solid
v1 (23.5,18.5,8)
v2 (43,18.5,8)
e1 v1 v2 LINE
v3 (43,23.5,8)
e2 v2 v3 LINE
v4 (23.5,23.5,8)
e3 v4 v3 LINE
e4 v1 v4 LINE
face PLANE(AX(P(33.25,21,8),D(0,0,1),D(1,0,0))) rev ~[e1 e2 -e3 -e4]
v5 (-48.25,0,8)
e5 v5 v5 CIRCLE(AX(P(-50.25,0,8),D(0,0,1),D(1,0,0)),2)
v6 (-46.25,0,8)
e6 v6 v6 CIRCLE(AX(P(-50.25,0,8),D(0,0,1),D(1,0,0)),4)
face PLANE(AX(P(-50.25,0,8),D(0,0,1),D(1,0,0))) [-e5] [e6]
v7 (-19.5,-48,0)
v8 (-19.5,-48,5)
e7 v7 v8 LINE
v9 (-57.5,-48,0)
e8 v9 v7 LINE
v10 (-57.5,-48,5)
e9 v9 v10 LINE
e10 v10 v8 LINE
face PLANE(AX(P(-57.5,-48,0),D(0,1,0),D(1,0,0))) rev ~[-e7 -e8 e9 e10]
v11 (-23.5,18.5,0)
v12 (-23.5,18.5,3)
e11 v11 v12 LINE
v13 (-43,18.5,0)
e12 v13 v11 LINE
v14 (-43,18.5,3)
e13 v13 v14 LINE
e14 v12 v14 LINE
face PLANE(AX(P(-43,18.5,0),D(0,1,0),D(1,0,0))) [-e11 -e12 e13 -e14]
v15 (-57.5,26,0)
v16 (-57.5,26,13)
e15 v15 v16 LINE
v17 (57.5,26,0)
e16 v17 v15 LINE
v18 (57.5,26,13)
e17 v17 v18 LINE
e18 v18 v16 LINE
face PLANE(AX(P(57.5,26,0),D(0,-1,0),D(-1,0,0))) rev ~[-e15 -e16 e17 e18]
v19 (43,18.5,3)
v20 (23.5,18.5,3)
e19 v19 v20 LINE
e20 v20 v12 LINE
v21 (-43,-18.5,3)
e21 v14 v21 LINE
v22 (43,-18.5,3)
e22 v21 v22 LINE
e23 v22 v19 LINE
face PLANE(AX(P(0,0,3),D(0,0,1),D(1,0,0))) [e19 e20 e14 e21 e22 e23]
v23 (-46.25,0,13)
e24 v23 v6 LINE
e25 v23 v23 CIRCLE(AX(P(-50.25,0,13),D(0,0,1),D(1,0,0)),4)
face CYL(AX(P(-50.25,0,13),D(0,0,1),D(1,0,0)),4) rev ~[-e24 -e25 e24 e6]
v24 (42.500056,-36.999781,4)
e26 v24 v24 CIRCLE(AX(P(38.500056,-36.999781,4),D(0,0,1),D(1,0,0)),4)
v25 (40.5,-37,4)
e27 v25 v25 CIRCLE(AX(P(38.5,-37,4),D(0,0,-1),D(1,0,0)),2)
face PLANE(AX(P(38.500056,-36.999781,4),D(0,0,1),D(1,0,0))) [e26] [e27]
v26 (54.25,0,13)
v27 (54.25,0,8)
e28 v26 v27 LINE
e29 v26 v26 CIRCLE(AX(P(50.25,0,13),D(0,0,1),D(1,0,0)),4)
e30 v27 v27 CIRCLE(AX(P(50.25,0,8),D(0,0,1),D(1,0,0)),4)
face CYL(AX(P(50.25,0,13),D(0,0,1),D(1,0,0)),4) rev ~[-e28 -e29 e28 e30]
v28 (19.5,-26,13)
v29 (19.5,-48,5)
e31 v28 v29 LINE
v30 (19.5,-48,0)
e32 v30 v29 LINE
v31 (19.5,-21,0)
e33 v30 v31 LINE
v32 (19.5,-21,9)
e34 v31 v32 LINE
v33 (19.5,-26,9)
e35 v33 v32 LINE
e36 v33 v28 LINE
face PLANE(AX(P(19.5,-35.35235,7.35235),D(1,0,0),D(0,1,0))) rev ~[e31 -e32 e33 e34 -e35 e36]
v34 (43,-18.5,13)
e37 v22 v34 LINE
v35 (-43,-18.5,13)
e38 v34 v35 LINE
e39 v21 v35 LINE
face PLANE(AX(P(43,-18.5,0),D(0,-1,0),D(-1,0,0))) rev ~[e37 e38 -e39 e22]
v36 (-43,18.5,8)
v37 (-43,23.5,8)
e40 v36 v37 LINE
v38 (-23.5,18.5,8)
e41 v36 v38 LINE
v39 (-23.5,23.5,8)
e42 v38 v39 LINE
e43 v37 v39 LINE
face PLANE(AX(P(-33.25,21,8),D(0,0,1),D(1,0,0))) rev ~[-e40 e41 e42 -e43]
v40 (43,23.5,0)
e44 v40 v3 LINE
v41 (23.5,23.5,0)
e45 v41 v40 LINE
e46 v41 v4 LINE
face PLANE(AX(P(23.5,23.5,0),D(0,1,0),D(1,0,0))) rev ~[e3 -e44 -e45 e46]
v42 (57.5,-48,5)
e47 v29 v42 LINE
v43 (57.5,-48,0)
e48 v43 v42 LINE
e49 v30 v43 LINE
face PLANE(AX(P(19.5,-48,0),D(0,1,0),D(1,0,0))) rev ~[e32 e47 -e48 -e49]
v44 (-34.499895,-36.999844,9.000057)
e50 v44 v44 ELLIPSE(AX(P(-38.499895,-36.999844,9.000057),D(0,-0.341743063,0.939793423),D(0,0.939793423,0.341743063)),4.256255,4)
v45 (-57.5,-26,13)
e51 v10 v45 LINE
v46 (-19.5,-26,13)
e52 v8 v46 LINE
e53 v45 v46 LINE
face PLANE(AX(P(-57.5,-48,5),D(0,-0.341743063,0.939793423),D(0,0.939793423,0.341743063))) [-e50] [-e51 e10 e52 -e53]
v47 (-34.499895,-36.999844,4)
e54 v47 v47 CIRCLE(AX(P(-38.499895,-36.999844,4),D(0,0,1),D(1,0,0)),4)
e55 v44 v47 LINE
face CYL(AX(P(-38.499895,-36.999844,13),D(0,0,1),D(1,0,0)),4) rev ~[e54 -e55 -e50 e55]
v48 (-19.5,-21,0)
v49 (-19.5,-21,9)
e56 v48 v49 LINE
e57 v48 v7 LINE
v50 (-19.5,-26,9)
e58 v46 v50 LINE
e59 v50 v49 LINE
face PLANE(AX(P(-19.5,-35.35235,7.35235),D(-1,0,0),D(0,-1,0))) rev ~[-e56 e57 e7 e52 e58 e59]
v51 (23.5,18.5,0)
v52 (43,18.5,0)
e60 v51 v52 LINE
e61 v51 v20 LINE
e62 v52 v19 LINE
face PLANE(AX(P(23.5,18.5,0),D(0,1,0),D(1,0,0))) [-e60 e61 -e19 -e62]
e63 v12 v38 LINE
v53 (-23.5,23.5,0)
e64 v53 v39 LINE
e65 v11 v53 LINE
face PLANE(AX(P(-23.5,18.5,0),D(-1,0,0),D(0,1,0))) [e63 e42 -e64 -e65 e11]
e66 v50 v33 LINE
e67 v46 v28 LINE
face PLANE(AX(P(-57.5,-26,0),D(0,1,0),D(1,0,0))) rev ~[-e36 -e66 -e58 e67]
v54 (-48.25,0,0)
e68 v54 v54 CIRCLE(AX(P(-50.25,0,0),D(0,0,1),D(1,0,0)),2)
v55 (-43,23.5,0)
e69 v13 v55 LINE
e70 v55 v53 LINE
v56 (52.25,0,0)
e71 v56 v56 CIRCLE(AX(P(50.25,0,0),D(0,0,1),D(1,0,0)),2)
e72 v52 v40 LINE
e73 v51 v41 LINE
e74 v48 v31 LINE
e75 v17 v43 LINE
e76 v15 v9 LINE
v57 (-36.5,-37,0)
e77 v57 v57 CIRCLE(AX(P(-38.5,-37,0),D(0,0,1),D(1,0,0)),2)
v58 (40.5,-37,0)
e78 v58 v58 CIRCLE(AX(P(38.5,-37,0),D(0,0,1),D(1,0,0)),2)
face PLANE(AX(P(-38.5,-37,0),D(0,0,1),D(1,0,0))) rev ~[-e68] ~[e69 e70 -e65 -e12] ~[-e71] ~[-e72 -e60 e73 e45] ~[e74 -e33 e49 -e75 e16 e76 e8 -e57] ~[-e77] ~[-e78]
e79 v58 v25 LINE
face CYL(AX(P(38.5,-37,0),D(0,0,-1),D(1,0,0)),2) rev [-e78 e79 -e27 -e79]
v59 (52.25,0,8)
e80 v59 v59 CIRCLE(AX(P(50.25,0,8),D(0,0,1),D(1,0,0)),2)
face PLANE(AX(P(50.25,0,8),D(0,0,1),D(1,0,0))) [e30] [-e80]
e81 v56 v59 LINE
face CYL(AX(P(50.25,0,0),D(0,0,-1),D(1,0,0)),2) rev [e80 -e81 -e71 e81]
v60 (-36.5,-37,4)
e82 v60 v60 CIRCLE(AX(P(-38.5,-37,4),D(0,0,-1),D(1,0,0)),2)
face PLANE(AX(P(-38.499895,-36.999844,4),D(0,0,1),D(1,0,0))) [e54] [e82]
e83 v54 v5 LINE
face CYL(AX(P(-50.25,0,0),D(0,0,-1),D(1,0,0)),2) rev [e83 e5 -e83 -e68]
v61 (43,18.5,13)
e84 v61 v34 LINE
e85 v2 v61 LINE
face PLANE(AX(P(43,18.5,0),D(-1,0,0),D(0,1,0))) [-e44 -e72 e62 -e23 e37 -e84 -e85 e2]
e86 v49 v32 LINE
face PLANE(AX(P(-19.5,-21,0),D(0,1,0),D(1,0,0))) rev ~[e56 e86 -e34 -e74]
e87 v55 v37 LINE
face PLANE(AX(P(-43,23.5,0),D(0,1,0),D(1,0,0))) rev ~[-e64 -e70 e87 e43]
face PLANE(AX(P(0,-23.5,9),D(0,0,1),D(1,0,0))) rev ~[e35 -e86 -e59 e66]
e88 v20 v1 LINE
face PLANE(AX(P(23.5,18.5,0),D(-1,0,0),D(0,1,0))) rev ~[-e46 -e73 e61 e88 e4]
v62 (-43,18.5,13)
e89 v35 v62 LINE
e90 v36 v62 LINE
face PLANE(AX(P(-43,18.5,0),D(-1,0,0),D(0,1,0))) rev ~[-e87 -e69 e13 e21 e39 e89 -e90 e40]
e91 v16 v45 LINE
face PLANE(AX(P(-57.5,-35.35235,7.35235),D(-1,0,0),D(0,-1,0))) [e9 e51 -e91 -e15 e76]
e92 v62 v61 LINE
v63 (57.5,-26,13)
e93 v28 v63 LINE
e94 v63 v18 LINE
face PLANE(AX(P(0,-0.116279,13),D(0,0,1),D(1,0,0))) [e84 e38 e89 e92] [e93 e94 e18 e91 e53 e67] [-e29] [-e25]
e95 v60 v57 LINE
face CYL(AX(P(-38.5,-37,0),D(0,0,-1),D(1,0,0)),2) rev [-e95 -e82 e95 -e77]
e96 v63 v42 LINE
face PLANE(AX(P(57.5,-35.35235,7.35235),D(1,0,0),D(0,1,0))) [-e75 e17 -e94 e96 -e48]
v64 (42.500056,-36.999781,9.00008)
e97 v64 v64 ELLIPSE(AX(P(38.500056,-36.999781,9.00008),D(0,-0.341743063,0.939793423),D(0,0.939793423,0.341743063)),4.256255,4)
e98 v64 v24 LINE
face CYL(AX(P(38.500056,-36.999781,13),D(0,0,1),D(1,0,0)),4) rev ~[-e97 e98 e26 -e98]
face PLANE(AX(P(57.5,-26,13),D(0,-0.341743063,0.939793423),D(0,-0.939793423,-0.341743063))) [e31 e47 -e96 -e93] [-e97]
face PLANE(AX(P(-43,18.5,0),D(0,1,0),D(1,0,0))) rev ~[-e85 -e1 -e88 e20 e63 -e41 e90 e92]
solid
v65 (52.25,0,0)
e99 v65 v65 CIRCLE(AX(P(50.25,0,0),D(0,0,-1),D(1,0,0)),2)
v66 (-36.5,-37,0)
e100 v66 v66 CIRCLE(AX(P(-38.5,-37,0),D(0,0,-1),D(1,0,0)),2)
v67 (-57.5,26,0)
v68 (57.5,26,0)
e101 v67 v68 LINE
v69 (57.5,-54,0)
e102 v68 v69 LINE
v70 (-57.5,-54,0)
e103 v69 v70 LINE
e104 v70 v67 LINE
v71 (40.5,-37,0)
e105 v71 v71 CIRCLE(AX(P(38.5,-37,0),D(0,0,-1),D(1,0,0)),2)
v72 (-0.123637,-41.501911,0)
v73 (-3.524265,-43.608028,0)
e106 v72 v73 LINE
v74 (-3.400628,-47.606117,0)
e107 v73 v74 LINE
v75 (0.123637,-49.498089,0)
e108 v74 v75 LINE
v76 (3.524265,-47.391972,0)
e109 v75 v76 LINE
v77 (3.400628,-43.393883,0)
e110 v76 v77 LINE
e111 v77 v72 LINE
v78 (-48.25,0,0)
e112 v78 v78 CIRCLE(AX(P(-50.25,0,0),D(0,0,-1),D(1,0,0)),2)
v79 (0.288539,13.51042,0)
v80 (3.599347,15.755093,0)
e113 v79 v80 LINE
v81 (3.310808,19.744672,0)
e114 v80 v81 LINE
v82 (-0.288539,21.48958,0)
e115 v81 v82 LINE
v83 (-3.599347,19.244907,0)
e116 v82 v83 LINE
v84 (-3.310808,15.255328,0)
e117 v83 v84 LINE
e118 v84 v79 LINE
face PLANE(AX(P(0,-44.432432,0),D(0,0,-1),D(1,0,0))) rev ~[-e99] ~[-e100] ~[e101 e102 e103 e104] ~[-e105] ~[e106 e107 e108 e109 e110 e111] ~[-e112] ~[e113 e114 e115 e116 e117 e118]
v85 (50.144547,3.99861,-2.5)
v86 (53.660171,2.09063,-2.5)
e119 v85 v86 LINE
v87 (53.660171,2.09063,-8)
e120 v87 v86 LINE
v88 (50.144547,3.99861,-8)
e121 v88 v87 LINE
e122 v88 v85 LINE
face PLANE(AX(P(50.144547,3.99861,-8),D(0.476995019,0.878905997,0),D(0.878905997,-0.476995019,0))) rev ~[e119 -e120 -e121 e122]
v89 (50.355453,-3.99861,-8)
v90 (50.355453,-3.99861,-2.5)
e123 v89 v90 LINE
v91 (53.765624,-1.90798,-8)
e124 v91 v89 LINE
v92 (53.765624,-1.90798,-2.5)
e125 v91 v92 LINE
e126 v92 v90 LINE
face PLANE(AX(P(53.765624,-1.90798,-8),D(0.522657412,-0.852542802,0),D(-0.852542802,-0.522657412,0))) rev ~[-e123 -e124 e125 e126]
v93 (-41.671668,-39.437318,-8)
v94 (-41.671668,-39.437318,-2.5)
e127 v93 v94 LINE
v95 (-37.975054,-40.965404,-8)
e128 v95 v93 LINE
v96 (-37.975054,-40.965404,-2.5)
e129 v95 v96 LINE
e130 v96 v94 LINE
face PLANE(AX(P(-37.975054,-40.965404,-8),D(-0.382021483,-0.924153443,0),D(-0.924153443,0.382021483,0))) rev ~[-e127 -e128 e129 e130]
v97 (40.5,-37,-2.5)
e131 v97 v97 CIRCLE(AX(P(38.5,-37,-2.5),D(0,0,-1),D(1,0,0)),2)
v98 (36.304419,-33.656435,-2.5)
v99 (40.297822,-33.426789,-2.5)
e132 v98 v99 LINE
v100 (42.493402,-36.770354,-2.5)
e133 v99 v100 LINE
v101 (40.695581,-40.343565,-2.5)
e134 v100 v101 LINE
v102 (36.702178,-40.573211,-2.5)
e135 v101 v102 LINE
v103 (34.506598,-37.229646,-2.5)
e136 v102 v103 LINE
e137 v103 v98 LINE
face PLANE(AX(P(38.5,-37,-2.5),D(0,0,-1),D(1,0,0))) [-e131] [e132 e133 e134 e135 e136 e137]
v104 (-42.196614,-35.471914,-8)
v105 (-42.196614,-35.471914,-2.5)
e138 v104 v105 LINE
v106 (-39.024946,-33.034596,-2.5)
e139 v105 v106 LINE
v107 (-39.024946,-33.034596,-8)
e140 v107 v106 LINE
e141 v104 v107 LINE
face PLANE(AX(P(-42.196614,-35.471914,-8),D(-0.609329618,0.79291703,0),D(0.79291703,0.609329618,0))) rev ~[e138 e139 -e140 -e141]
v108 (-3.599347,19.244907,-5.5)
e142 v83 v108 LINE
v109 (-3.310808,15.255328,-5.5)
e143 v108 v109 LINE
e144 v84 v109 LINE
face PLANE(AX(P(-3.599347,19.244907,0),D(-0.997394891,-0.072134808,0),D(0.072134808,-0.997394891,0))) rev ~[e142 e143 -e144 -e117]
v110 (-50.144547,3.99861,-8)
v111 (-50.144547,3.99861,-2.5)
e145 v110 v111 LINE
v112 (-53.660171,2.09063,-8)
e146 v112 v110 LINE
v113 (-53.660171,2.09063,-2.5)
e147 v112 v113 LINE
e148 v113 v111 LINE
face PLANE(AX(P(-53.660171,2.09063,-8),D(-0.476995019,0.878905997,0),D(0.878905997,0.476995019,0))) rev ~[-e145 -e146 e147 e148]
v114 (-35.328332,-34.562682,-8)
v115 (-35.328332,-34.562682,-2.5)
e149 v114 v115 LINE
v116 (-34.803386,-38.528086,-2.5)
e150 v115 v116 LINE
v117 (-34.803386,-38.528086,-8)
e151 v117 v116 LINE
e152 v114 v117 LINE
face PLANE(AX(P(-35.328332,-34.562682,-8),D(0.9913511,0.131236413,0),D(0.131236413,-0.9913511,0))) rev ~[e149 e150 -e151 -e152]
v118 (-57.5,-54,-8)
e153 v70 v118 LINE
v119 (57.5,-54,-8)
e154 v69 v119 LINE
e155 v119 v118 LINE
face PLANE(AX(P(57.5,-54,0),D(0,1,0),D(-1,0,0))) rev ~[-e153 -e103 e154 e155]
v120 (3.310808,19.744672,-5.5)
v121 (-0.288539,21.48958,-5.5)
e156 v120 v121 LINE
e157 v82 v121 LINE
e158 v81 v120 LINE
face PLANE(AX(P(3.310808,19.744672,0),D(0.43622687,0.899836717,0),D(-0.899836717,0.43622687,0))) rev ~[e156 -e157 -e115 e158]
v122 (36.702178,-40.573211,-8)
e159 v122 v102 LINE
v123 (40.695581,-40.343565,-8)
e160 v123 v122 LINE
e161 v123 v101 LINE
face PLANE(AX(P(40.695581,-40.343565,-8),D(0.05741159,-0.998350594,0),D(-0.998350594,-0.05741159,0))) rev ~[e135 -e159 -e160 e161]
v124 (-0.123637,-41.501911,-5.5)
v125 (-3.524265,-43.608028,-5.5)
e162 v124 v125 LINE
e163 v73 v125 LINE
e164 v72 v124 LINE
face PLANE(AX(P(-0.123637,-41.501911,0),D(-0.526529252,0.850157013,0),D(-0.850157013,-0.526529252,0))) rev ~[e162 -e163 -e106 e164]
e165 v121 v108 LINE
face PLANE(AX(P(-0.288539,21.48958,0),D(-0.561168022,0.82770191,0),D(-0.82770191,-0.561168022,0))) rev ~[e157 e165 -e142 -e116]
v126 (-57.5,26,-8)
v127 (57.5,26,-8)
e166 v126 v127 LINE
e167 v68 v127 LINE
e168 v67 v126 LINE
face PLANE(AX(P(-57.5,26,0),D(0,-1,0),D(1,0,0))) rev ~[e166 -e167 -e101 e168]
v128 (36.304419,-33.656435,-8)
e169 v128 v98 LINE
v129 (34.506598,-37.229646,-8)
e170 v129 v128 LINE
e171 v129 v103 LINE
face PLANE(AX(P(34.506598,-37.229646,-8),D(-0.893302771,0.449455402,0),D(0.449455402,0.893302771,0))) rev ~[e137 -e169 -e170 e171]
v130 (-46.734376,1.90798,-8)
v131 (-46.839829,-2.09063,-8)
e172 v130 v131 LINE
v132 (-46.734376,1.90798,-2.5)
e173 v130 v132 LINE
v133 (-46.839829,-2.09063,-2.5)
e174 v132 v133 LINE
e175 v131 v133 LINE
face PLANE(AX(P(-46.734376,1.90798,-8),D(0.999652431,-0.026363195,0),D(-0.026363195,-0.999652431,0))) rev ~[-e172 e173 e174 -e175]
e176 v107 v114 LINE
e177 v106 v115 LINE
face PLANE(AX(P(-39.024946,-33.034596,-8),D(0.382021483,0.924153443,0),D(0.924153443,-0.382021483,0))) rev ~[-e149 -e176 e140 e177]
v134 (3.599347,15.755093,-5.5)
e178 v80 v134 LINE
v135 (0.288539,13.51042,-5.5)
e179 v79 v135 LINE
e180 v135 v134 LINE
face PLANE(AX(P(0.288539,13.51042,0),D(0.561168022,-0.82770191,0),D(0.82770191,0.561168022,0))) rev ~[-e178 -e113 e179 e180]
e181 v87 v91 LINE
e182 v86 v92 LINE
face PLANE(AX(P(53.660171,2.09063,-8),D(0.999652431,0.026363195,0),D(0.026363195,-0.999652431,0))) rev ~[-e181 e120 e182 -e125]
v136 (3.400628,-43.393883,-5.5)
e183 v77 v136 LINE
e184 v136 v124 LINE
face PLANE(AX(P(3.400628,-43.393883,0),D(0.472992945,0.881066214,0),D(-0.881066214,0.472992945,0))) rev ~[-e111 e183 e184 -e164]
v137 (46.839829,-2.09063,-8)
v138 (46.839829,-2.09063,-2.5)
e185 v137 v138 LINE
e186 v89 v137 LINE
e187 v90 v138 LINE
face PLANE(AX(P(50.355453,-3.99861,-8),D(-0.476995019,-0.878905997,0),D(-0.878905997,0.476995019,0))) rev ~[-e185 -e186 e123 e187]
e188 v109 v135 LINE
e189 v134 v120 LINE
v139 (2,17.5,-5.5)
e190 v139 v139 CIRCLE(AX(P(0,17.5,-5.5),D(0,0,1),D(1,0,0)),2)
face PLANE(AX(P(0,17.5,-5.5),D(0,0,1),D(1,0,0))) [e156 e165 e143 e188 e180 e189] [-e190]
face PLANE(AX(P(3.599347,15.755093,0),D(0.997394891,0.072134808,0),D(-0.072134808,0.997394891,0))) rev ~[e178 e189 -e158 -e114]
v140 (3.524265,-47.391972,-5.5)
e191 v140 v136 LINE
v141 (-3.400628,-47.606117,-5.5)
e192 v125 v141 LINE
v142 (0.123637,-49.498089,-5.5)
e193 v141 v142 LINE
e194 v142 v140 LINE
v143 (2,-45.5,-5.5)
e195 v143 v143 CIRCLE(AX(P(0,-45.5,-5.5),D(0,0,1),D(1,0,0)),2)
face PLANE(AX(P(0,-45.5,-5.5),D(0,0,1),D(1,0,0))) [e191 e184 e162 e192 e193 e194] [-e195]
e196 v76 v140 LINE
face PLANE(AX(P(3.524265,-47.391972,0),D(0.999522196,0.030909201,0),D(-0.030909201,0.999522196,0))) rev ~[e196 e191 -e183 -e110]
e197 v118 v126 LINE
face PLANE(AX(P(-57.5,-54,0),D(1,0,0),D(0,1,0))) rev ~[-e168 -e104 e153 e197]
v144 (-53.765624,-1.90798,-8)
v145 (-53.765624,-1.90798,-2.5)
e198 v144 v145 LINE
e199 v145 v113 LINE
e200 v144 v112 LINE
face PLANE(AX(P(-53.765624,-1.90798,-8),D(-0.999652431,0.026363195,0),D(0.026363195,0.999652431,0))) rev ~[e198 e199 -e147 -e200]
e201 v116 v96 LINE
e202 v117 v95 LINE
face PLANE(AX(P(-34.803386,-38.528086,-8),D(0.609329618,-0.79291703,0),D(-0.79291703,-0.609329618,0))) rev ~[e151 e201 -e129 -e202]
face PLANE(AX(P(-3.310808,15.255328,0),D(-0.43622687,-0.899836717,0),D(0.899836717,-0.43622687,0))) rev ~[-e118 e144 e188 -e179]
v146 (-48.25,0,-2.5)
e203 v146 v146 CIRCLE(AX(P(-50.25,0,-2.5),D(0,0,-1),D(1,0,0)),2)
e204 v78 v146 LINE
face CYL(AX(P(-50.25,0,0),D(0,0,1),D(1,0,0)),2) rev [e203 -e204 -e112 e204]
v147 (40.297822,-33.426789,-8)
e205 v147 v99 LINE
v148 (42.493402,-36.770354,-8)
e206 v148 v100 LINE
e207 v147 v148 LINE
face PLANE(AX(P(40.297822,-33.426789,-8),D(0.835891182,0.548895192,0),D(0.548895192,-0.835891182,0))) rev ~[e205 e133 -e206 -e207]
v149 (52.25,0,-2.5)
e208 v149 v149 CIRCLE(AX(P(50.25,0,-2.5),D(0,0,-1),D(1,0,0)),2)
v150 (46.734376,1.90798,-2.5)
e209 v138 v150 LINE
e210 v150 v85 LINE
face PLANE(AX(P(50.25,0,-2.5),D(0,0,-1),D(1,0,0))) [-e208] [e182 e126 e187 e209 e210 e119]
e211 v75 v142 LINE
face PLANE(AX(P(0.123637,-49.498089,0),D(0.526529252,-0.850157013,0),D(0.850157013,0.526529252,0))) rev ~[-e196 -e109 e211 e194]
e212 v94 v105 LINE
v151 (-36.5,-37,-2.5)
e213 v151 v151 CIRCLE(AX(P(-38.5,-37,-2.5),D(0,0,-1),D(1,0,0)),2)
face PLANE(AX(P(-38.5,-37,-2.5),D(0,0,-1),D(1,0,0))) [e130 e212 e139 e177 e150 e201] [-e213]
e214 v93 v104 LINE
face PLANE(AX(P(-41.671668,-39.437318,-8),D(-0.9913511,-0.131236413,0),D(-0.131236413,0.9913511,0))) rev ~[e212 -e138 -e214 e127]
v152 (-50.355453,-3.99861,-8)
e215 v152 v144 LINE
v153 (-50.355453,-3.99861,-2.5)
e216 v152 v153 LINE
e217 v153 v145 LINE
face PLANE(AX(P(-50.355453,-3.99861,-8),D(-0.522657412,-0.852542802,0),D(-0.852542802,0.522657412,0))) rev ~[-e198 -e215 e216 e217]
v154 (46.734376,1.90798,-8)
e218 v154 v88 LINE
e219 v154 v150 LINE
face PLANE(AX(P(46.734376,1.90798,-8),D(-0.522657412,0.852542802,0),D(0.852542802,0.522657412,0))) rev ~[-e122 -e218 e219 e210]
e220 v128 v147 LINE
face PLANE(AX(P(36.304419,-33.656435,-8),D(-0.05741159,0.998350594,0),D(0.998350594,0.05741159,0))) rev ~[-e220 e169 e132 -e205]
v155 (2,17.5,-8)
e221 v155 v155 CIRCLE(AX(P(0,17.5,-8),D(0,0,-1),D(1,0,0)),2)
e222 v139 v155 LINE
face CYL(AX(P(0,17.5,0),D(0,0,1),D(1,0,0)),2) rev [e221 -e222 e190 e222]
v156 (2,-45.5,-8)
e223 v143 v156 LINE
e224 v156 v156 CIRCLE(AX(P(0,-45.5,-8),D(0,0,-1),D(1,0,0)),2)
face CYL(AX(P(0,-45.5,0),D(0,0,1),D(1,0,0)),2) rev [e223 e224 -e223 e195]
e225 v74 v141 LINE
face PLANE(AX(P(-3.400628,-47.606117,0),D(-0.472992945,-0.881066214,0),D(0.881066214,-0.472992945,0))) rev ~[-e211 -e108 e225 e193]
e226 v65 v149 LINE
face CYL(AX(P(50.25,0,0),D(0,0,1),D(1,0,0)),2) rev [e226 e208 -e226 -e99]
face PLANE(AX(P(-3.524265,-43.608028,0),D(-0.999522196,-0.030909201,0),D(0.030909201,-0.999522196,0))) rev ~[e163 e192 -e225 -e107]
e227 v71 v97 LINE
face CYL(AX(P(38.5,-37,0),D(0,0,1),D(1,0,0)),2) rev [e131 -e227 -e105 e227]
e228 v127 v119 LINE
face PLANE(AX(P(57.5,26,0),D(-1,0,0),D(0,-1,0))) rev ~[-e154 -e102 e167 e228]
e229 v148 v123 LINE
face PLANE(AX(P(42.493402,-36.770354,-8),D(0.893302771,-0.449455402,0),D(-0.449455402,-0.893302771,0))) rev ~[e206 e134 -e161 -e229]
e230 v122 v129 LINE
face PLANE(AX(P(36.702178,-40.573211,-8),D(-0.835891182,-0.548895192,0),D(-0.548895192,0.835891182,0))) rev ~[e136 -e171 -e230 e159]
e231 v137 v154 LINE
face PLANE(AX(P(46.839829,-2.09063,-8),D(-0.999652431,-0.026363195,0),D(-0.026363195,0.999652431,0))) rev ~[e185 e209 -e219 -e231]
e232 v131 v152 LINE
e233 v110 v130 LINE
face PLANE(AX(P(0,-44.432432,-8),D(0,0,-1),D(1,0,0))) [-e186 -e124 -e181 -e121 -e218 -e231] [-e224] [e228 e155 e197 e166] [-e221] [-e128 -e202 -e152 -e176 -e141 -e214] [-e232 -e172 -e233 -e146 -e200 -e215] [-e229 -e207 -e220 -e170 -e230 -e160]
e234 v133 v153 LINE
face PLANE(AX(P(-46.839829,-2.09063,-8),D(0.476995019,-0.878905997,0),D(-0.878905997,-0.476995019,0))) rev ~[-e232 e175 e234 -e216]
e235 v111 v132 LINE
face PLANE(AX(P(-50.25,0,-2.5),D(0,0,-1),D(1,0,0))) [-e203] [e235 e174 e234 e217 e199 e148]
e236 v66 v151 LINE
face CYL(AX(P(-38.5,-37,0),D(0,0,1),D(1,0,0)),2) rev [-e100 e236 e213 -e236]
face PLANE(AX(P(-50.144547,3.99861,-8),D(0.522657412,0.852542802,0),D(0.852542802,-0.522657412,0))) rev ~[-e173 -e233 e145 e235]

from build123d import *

# Parameters (mm, degrees)
F0_R      = 4
F0_R_2    = 2
F0_W      = 19.5
F0_H      = 5
F0_W_2    = 39
F1_DEPTH  = 13
F2_DEPTH  = 3
F3_DEPTH  = 8
F0_W_3    = 38
F0_H_2    = 22
F4_DEPTH  = 5
F5_DEPTH  = 9
F7_DEPTH  = 38
F9_DEPTH  = 38
F10_R     = 4
F10_R_2   = 2
F11_DEPTH = 5
F12_DEPTH = 25
F13_DEPTH = 9
F14_R     = 2
F14_W     = 19.5
F14_H     = 5
F15_DEPTH = 8
F16_R     = 2
F17_DEPTH = 5.5
F18_R     = 2
F19_DEPTH = 5.5


with BuildPart() as f1:
    # F0 (on Top) → F1 (new body)
    with BuildSketch(Plane.XY):
        Polygon((19.5, -26), (57.5, -26), (57.5, 26), (-57.5, 26), (-57.5, -26), (-19.5, -26), (-19.5, -21), (19.5, -21), align=None)
        with Locations((-50.25, 0)):
            Circle(F0_R, mode=Mode.SUBTRACT)
        Polygon((43, 18.5), (43, -18.5), (-43, -18.5), (-43, 18.5), (-43, 23.5), (-23.5, 23.5), (-23.5, 18.5), (23.5, 18.5), (23.5, 23.5), (43, 23.5), align=None, mode=Mode.SUBTRACT)
        with Locations((50.25, 0)):
            Circle(F0_R, mode=Mode.SUBTRACT)
        with Locations((-50.25, 0)):
            Circle(F0_R)
        with Locations((-50.25, 0)):
            Circle(F0_R_2, mode=Mode.SUBTRACT)
        with Locations((50.25, 0)):
            Circle(F0_R)
        with Locations((50.25, 0)):
            Circle(F0_R_2, mode=Mode.SUBTRACT)
        with Locations((-33.25, 21)):
            Rectangle(F0_W, F0_H)
        with Locations((33.25, 21)):
            Rectangle(F0_W, F0_H)
        with Locations((0, -23.5)):
            Rectangle(F0_W_2, F0_H)
    extrude(amount=F1_DEPTH)

    # F0 (on Top) → F2 (join)
    with BuildSketch(Plane.XY):
        Polygon((-43, -18.5), (43, -18.5), (43, 18.5), (23.5, 18.5), (-23.5, 18.5), (-43, 18.5), align=None)
    extrude(amount=F2_DEPTH)

    # F0 (on Top) → F3 (cut)
    with BuildSketch(Plane.XY):
        with Locations((-33.25, 21)):
            Rectangle(F0_W, F0_H)
        with Locations((33.25, 21)):
            Rectangle(F0_W, F0_H)
    extrude(amount=F3_DEPTH, mode=Mode.SUBTRACT)

    # F0 (on Top) → F4 (join)
    with BuildSketch(Plane.XY):
        with Locations((-38.5, -37)):
            Rectangle(F0_W_3, F0_H_2)
        with Locations((-38.5, -37)):
            Circle(F0_R, mode=Mode.SUBTRACT)
        with Locations((-38.5, -37)):
            Circle(F0_R)
        with Locations((-38.5, -37)):
            Circle(F0_R_2, mode=Mode.SUBTRACT)
        with Locations((38.5, -37)):
            Rectangle(F0_W_3, F0_H_2)
        with Locations((38.5, -37)):
            Circle(F0_R, mode=Mode.SUBTRACT)
        with Locations((38.5, -37)):
            Circle(F0_R)
        with Locations((38.5, -37)):
            Circle(F0_R_2, mode=Mode.SUBTRACT)
    extrude(amount=F4_DEPTH)

    # F0 (on Top) → F5 (cut)
    with BuildSketch(Plane.XY):
        with Locations((0, -23.5)):
            Rectangle(F0_W_2, F0_H)
    extrude(amount=F5_DEPTH, mode=Mode.SUBTRACT)

    # F6 (on face) → F7 (join)
    with BuildSketch(Plane.YZ.offset(57.5)):
        Polygon((-26, 5), (-26, 13), (-48, 5), align=None)
    extrude(amount=-F7_DEPTH)

    # F8 (on face) → F9 (join)
    with BuildSketch(Plane(origin=(-57.5, 0, 0), x_dir=(0, -1, 0), z_dir=(-1, 0, 0))):
        Polygon((48, 5), (26, 13), (26, 5), align=None)
    extrude(amount=-F9_DEPTH)

    # F10 (on face) → F11 (cut)
    with BuildSketch(Plane.XY.offset(13)):
        with Locations((-50.25, 0)):
            Circle(F10_R)
        with Locations((-50.25, 0)):
            Circle(F10_R_2, mode=Mode.SUBTRACT)
        with Locations((50.25, 0)):
            Circle(F10_R)
        with Locations((50.25, 0)):
            Circle(F10_R_2, mode=Mode.SUBTRACT)
    extrude(amount=-F11_DEPTH, mode=Mode.SUBTRACT)

    # F0 (on Top) → F12 (cut)
    with BuildSketch(Plane.XY):
        with Locations((38.5, -37)):
            Circle(F0_R_2)
        with Locations((-38.5, -37)):
            Circle(F0_R_2)
    extrude(amount=F12_DEPTH, mode=Mode.SUBTRACT)

    # F10 (on face) → F13 (cut)
    with BuildSketch(Plane.XY.offset(13)):
        with Locations((-38.4998954833, -36.9998440146)):
            Circle(F10_R)
        with Locations((38.5000556707, -36.9997806847)):
            Circle(F10_R)
    extrude(amount=-F13_DEPTH, mode=Mode.SUBTRACT)


with BuildPart() as f15:
    # F14 (on face) → F15 (new body)
    with BuildSketch(Plane(origin=(0, 0, 0), x_dir=(1, 0, 0), z_dir=(0, 0, -1))):
        Polygon((19.5, 48), (57.5, 48), (57.5, 54), (-57.5, 54), (-57.5, 48), (-19.5, 48), (-19.5, 21), (19.5, 21), align=None)
        with Locations((0, 45.5)):
            Circle(F14_R, mode=Mode.SUBTRACT)
        Polygon((-57.5, -26), (57.5, -26), (57.5, 48), (19.5, 48), (19.5, 21), (-19.5, 21), (-19.5, 48), (-57.5, 48), align=None)
        with Locations((-33.25, -21)):
            Rectangle(F14_W, F14_H, mode=Mode.SUBTRACT)
        with Locations((-50.25, 0)):
            Circle(F14_R, mode=Mode.SUBTRACT)
        with Locations((0, -17.5)):
            Circle(F14_R, mode=Mode.SUBTRACT)
        with Locations((33.25, -21)):
            Rectangle(F14_W, F14_H, mode=Mode.SUBTRACT)
        with Locations((50.25, 0)):
            Circle(F14_R, mode=Mode.SUBTRACT)
        with Locations((-38.5, 37)):
            Circle(F14_R, mode=Mode.SUBTRACT)
        with Locations((38.5, 37)):
            Circle(F14_R, mode=Mode.SUBTRACT)
        with Locations((33.25, -21)):
            Rectangle(F14_W, F14_H)
        with Locations((-33.25, -21)):
            Rectangle(F14_W, F14_H)
    extrude(amount=F15_DEPTH)

    # F16 (on face) → F17 (cut)
    with BuildSketch(Plane.XY):
        Polygon((0.288539231, 13.5104204342), (3.5993468699, 15.7550925211), (3.310807639, 19.7446720869), (-0.288539231, 21.4895795658), (-3.5993468699, 19.2449074789), (-3.310807639, 15.2553279131), align=None)
        with Locations((0, 17.5)):
            Circle(F16_R, mode=Mode.SUBTRACT)
        Polygon((0.1236368048, -49.498088786), (3.5242648576, -47.3919717792), (3.4006280528, -43.3938829932), (-0.1236368048, -41.501911214), (-3.5242648576, -43.6080282208), (-3.4006280528, -47.6061170068), align=None)
        with Locations((0, -45.5)):
            Circle(F16_R, mode=Mode.SUBTRACT)
    extrude(amount=-F17_DEPTH, mode=Mode.SUBTRACT)

    # F18 (on face) → F19 (cut)
    with BuildSketch(Plane(origin=(0, 0, -8), x_dir=(1, 0, 0), z_dir=(0, 0, -1))):
        Polygon((-39.0249456513, 33.034595599), (-35.3283318782, 34.5626815299), (-34.8033862268, 38.5280859308), (-37.9750543487, 40.965404401), (-41.6716681218, 39.4373184701), (-42.1966137732, 35.4719140692), align=None)
        with Locations((-38.5, 37)):
            Circle(F18_R, mode=Mode.SUBTRACT)
        Polygon((34.5065976223, 37.2296463585), (36.3044192308, 33.6564352726), (40.2978216085, 33.4267889142), (42.4934023777, 36.7703536415), (40.6955807692, 40.3435647274), (36.7021783915, 40.5732110858), align=None)
        with Locations((38.5, 37)):
            Circle(F18_R, mode=Mode.SUBTRACT)
        Polygon((46.8398287902, 2.0906296468), (46.7343760111, -1.9079800755), (50.1445472208, -3.9986097223), (53.6601712098, -2.0906296468), (53.7656239889, 1.9079800755), (50.3554527792, 3.9986097223), align=None)
        with Locations((50.25, 0)):
            Circle(F18_R, mode=Mode.SUBTRACT)
        Polygon((-50.1445472208, -3.9986097223), (-46.7343760111, -1.9079800755), (-46.8398287902, 2.0906296468), (-50.3554527792, 3.9986097223), (-53.7656239889, 1.9079800755), (-53.6601712098, -2.0906296468), align=None)
        with Locations((-50.25, 0)):
            Circle(F18_R, mode=Mode.SUBTRACT)
    extrude(amount=-F19_DEPTH, mode=Mode.SUBTRACT)


solid = Compound([f1.part, f15.part])
